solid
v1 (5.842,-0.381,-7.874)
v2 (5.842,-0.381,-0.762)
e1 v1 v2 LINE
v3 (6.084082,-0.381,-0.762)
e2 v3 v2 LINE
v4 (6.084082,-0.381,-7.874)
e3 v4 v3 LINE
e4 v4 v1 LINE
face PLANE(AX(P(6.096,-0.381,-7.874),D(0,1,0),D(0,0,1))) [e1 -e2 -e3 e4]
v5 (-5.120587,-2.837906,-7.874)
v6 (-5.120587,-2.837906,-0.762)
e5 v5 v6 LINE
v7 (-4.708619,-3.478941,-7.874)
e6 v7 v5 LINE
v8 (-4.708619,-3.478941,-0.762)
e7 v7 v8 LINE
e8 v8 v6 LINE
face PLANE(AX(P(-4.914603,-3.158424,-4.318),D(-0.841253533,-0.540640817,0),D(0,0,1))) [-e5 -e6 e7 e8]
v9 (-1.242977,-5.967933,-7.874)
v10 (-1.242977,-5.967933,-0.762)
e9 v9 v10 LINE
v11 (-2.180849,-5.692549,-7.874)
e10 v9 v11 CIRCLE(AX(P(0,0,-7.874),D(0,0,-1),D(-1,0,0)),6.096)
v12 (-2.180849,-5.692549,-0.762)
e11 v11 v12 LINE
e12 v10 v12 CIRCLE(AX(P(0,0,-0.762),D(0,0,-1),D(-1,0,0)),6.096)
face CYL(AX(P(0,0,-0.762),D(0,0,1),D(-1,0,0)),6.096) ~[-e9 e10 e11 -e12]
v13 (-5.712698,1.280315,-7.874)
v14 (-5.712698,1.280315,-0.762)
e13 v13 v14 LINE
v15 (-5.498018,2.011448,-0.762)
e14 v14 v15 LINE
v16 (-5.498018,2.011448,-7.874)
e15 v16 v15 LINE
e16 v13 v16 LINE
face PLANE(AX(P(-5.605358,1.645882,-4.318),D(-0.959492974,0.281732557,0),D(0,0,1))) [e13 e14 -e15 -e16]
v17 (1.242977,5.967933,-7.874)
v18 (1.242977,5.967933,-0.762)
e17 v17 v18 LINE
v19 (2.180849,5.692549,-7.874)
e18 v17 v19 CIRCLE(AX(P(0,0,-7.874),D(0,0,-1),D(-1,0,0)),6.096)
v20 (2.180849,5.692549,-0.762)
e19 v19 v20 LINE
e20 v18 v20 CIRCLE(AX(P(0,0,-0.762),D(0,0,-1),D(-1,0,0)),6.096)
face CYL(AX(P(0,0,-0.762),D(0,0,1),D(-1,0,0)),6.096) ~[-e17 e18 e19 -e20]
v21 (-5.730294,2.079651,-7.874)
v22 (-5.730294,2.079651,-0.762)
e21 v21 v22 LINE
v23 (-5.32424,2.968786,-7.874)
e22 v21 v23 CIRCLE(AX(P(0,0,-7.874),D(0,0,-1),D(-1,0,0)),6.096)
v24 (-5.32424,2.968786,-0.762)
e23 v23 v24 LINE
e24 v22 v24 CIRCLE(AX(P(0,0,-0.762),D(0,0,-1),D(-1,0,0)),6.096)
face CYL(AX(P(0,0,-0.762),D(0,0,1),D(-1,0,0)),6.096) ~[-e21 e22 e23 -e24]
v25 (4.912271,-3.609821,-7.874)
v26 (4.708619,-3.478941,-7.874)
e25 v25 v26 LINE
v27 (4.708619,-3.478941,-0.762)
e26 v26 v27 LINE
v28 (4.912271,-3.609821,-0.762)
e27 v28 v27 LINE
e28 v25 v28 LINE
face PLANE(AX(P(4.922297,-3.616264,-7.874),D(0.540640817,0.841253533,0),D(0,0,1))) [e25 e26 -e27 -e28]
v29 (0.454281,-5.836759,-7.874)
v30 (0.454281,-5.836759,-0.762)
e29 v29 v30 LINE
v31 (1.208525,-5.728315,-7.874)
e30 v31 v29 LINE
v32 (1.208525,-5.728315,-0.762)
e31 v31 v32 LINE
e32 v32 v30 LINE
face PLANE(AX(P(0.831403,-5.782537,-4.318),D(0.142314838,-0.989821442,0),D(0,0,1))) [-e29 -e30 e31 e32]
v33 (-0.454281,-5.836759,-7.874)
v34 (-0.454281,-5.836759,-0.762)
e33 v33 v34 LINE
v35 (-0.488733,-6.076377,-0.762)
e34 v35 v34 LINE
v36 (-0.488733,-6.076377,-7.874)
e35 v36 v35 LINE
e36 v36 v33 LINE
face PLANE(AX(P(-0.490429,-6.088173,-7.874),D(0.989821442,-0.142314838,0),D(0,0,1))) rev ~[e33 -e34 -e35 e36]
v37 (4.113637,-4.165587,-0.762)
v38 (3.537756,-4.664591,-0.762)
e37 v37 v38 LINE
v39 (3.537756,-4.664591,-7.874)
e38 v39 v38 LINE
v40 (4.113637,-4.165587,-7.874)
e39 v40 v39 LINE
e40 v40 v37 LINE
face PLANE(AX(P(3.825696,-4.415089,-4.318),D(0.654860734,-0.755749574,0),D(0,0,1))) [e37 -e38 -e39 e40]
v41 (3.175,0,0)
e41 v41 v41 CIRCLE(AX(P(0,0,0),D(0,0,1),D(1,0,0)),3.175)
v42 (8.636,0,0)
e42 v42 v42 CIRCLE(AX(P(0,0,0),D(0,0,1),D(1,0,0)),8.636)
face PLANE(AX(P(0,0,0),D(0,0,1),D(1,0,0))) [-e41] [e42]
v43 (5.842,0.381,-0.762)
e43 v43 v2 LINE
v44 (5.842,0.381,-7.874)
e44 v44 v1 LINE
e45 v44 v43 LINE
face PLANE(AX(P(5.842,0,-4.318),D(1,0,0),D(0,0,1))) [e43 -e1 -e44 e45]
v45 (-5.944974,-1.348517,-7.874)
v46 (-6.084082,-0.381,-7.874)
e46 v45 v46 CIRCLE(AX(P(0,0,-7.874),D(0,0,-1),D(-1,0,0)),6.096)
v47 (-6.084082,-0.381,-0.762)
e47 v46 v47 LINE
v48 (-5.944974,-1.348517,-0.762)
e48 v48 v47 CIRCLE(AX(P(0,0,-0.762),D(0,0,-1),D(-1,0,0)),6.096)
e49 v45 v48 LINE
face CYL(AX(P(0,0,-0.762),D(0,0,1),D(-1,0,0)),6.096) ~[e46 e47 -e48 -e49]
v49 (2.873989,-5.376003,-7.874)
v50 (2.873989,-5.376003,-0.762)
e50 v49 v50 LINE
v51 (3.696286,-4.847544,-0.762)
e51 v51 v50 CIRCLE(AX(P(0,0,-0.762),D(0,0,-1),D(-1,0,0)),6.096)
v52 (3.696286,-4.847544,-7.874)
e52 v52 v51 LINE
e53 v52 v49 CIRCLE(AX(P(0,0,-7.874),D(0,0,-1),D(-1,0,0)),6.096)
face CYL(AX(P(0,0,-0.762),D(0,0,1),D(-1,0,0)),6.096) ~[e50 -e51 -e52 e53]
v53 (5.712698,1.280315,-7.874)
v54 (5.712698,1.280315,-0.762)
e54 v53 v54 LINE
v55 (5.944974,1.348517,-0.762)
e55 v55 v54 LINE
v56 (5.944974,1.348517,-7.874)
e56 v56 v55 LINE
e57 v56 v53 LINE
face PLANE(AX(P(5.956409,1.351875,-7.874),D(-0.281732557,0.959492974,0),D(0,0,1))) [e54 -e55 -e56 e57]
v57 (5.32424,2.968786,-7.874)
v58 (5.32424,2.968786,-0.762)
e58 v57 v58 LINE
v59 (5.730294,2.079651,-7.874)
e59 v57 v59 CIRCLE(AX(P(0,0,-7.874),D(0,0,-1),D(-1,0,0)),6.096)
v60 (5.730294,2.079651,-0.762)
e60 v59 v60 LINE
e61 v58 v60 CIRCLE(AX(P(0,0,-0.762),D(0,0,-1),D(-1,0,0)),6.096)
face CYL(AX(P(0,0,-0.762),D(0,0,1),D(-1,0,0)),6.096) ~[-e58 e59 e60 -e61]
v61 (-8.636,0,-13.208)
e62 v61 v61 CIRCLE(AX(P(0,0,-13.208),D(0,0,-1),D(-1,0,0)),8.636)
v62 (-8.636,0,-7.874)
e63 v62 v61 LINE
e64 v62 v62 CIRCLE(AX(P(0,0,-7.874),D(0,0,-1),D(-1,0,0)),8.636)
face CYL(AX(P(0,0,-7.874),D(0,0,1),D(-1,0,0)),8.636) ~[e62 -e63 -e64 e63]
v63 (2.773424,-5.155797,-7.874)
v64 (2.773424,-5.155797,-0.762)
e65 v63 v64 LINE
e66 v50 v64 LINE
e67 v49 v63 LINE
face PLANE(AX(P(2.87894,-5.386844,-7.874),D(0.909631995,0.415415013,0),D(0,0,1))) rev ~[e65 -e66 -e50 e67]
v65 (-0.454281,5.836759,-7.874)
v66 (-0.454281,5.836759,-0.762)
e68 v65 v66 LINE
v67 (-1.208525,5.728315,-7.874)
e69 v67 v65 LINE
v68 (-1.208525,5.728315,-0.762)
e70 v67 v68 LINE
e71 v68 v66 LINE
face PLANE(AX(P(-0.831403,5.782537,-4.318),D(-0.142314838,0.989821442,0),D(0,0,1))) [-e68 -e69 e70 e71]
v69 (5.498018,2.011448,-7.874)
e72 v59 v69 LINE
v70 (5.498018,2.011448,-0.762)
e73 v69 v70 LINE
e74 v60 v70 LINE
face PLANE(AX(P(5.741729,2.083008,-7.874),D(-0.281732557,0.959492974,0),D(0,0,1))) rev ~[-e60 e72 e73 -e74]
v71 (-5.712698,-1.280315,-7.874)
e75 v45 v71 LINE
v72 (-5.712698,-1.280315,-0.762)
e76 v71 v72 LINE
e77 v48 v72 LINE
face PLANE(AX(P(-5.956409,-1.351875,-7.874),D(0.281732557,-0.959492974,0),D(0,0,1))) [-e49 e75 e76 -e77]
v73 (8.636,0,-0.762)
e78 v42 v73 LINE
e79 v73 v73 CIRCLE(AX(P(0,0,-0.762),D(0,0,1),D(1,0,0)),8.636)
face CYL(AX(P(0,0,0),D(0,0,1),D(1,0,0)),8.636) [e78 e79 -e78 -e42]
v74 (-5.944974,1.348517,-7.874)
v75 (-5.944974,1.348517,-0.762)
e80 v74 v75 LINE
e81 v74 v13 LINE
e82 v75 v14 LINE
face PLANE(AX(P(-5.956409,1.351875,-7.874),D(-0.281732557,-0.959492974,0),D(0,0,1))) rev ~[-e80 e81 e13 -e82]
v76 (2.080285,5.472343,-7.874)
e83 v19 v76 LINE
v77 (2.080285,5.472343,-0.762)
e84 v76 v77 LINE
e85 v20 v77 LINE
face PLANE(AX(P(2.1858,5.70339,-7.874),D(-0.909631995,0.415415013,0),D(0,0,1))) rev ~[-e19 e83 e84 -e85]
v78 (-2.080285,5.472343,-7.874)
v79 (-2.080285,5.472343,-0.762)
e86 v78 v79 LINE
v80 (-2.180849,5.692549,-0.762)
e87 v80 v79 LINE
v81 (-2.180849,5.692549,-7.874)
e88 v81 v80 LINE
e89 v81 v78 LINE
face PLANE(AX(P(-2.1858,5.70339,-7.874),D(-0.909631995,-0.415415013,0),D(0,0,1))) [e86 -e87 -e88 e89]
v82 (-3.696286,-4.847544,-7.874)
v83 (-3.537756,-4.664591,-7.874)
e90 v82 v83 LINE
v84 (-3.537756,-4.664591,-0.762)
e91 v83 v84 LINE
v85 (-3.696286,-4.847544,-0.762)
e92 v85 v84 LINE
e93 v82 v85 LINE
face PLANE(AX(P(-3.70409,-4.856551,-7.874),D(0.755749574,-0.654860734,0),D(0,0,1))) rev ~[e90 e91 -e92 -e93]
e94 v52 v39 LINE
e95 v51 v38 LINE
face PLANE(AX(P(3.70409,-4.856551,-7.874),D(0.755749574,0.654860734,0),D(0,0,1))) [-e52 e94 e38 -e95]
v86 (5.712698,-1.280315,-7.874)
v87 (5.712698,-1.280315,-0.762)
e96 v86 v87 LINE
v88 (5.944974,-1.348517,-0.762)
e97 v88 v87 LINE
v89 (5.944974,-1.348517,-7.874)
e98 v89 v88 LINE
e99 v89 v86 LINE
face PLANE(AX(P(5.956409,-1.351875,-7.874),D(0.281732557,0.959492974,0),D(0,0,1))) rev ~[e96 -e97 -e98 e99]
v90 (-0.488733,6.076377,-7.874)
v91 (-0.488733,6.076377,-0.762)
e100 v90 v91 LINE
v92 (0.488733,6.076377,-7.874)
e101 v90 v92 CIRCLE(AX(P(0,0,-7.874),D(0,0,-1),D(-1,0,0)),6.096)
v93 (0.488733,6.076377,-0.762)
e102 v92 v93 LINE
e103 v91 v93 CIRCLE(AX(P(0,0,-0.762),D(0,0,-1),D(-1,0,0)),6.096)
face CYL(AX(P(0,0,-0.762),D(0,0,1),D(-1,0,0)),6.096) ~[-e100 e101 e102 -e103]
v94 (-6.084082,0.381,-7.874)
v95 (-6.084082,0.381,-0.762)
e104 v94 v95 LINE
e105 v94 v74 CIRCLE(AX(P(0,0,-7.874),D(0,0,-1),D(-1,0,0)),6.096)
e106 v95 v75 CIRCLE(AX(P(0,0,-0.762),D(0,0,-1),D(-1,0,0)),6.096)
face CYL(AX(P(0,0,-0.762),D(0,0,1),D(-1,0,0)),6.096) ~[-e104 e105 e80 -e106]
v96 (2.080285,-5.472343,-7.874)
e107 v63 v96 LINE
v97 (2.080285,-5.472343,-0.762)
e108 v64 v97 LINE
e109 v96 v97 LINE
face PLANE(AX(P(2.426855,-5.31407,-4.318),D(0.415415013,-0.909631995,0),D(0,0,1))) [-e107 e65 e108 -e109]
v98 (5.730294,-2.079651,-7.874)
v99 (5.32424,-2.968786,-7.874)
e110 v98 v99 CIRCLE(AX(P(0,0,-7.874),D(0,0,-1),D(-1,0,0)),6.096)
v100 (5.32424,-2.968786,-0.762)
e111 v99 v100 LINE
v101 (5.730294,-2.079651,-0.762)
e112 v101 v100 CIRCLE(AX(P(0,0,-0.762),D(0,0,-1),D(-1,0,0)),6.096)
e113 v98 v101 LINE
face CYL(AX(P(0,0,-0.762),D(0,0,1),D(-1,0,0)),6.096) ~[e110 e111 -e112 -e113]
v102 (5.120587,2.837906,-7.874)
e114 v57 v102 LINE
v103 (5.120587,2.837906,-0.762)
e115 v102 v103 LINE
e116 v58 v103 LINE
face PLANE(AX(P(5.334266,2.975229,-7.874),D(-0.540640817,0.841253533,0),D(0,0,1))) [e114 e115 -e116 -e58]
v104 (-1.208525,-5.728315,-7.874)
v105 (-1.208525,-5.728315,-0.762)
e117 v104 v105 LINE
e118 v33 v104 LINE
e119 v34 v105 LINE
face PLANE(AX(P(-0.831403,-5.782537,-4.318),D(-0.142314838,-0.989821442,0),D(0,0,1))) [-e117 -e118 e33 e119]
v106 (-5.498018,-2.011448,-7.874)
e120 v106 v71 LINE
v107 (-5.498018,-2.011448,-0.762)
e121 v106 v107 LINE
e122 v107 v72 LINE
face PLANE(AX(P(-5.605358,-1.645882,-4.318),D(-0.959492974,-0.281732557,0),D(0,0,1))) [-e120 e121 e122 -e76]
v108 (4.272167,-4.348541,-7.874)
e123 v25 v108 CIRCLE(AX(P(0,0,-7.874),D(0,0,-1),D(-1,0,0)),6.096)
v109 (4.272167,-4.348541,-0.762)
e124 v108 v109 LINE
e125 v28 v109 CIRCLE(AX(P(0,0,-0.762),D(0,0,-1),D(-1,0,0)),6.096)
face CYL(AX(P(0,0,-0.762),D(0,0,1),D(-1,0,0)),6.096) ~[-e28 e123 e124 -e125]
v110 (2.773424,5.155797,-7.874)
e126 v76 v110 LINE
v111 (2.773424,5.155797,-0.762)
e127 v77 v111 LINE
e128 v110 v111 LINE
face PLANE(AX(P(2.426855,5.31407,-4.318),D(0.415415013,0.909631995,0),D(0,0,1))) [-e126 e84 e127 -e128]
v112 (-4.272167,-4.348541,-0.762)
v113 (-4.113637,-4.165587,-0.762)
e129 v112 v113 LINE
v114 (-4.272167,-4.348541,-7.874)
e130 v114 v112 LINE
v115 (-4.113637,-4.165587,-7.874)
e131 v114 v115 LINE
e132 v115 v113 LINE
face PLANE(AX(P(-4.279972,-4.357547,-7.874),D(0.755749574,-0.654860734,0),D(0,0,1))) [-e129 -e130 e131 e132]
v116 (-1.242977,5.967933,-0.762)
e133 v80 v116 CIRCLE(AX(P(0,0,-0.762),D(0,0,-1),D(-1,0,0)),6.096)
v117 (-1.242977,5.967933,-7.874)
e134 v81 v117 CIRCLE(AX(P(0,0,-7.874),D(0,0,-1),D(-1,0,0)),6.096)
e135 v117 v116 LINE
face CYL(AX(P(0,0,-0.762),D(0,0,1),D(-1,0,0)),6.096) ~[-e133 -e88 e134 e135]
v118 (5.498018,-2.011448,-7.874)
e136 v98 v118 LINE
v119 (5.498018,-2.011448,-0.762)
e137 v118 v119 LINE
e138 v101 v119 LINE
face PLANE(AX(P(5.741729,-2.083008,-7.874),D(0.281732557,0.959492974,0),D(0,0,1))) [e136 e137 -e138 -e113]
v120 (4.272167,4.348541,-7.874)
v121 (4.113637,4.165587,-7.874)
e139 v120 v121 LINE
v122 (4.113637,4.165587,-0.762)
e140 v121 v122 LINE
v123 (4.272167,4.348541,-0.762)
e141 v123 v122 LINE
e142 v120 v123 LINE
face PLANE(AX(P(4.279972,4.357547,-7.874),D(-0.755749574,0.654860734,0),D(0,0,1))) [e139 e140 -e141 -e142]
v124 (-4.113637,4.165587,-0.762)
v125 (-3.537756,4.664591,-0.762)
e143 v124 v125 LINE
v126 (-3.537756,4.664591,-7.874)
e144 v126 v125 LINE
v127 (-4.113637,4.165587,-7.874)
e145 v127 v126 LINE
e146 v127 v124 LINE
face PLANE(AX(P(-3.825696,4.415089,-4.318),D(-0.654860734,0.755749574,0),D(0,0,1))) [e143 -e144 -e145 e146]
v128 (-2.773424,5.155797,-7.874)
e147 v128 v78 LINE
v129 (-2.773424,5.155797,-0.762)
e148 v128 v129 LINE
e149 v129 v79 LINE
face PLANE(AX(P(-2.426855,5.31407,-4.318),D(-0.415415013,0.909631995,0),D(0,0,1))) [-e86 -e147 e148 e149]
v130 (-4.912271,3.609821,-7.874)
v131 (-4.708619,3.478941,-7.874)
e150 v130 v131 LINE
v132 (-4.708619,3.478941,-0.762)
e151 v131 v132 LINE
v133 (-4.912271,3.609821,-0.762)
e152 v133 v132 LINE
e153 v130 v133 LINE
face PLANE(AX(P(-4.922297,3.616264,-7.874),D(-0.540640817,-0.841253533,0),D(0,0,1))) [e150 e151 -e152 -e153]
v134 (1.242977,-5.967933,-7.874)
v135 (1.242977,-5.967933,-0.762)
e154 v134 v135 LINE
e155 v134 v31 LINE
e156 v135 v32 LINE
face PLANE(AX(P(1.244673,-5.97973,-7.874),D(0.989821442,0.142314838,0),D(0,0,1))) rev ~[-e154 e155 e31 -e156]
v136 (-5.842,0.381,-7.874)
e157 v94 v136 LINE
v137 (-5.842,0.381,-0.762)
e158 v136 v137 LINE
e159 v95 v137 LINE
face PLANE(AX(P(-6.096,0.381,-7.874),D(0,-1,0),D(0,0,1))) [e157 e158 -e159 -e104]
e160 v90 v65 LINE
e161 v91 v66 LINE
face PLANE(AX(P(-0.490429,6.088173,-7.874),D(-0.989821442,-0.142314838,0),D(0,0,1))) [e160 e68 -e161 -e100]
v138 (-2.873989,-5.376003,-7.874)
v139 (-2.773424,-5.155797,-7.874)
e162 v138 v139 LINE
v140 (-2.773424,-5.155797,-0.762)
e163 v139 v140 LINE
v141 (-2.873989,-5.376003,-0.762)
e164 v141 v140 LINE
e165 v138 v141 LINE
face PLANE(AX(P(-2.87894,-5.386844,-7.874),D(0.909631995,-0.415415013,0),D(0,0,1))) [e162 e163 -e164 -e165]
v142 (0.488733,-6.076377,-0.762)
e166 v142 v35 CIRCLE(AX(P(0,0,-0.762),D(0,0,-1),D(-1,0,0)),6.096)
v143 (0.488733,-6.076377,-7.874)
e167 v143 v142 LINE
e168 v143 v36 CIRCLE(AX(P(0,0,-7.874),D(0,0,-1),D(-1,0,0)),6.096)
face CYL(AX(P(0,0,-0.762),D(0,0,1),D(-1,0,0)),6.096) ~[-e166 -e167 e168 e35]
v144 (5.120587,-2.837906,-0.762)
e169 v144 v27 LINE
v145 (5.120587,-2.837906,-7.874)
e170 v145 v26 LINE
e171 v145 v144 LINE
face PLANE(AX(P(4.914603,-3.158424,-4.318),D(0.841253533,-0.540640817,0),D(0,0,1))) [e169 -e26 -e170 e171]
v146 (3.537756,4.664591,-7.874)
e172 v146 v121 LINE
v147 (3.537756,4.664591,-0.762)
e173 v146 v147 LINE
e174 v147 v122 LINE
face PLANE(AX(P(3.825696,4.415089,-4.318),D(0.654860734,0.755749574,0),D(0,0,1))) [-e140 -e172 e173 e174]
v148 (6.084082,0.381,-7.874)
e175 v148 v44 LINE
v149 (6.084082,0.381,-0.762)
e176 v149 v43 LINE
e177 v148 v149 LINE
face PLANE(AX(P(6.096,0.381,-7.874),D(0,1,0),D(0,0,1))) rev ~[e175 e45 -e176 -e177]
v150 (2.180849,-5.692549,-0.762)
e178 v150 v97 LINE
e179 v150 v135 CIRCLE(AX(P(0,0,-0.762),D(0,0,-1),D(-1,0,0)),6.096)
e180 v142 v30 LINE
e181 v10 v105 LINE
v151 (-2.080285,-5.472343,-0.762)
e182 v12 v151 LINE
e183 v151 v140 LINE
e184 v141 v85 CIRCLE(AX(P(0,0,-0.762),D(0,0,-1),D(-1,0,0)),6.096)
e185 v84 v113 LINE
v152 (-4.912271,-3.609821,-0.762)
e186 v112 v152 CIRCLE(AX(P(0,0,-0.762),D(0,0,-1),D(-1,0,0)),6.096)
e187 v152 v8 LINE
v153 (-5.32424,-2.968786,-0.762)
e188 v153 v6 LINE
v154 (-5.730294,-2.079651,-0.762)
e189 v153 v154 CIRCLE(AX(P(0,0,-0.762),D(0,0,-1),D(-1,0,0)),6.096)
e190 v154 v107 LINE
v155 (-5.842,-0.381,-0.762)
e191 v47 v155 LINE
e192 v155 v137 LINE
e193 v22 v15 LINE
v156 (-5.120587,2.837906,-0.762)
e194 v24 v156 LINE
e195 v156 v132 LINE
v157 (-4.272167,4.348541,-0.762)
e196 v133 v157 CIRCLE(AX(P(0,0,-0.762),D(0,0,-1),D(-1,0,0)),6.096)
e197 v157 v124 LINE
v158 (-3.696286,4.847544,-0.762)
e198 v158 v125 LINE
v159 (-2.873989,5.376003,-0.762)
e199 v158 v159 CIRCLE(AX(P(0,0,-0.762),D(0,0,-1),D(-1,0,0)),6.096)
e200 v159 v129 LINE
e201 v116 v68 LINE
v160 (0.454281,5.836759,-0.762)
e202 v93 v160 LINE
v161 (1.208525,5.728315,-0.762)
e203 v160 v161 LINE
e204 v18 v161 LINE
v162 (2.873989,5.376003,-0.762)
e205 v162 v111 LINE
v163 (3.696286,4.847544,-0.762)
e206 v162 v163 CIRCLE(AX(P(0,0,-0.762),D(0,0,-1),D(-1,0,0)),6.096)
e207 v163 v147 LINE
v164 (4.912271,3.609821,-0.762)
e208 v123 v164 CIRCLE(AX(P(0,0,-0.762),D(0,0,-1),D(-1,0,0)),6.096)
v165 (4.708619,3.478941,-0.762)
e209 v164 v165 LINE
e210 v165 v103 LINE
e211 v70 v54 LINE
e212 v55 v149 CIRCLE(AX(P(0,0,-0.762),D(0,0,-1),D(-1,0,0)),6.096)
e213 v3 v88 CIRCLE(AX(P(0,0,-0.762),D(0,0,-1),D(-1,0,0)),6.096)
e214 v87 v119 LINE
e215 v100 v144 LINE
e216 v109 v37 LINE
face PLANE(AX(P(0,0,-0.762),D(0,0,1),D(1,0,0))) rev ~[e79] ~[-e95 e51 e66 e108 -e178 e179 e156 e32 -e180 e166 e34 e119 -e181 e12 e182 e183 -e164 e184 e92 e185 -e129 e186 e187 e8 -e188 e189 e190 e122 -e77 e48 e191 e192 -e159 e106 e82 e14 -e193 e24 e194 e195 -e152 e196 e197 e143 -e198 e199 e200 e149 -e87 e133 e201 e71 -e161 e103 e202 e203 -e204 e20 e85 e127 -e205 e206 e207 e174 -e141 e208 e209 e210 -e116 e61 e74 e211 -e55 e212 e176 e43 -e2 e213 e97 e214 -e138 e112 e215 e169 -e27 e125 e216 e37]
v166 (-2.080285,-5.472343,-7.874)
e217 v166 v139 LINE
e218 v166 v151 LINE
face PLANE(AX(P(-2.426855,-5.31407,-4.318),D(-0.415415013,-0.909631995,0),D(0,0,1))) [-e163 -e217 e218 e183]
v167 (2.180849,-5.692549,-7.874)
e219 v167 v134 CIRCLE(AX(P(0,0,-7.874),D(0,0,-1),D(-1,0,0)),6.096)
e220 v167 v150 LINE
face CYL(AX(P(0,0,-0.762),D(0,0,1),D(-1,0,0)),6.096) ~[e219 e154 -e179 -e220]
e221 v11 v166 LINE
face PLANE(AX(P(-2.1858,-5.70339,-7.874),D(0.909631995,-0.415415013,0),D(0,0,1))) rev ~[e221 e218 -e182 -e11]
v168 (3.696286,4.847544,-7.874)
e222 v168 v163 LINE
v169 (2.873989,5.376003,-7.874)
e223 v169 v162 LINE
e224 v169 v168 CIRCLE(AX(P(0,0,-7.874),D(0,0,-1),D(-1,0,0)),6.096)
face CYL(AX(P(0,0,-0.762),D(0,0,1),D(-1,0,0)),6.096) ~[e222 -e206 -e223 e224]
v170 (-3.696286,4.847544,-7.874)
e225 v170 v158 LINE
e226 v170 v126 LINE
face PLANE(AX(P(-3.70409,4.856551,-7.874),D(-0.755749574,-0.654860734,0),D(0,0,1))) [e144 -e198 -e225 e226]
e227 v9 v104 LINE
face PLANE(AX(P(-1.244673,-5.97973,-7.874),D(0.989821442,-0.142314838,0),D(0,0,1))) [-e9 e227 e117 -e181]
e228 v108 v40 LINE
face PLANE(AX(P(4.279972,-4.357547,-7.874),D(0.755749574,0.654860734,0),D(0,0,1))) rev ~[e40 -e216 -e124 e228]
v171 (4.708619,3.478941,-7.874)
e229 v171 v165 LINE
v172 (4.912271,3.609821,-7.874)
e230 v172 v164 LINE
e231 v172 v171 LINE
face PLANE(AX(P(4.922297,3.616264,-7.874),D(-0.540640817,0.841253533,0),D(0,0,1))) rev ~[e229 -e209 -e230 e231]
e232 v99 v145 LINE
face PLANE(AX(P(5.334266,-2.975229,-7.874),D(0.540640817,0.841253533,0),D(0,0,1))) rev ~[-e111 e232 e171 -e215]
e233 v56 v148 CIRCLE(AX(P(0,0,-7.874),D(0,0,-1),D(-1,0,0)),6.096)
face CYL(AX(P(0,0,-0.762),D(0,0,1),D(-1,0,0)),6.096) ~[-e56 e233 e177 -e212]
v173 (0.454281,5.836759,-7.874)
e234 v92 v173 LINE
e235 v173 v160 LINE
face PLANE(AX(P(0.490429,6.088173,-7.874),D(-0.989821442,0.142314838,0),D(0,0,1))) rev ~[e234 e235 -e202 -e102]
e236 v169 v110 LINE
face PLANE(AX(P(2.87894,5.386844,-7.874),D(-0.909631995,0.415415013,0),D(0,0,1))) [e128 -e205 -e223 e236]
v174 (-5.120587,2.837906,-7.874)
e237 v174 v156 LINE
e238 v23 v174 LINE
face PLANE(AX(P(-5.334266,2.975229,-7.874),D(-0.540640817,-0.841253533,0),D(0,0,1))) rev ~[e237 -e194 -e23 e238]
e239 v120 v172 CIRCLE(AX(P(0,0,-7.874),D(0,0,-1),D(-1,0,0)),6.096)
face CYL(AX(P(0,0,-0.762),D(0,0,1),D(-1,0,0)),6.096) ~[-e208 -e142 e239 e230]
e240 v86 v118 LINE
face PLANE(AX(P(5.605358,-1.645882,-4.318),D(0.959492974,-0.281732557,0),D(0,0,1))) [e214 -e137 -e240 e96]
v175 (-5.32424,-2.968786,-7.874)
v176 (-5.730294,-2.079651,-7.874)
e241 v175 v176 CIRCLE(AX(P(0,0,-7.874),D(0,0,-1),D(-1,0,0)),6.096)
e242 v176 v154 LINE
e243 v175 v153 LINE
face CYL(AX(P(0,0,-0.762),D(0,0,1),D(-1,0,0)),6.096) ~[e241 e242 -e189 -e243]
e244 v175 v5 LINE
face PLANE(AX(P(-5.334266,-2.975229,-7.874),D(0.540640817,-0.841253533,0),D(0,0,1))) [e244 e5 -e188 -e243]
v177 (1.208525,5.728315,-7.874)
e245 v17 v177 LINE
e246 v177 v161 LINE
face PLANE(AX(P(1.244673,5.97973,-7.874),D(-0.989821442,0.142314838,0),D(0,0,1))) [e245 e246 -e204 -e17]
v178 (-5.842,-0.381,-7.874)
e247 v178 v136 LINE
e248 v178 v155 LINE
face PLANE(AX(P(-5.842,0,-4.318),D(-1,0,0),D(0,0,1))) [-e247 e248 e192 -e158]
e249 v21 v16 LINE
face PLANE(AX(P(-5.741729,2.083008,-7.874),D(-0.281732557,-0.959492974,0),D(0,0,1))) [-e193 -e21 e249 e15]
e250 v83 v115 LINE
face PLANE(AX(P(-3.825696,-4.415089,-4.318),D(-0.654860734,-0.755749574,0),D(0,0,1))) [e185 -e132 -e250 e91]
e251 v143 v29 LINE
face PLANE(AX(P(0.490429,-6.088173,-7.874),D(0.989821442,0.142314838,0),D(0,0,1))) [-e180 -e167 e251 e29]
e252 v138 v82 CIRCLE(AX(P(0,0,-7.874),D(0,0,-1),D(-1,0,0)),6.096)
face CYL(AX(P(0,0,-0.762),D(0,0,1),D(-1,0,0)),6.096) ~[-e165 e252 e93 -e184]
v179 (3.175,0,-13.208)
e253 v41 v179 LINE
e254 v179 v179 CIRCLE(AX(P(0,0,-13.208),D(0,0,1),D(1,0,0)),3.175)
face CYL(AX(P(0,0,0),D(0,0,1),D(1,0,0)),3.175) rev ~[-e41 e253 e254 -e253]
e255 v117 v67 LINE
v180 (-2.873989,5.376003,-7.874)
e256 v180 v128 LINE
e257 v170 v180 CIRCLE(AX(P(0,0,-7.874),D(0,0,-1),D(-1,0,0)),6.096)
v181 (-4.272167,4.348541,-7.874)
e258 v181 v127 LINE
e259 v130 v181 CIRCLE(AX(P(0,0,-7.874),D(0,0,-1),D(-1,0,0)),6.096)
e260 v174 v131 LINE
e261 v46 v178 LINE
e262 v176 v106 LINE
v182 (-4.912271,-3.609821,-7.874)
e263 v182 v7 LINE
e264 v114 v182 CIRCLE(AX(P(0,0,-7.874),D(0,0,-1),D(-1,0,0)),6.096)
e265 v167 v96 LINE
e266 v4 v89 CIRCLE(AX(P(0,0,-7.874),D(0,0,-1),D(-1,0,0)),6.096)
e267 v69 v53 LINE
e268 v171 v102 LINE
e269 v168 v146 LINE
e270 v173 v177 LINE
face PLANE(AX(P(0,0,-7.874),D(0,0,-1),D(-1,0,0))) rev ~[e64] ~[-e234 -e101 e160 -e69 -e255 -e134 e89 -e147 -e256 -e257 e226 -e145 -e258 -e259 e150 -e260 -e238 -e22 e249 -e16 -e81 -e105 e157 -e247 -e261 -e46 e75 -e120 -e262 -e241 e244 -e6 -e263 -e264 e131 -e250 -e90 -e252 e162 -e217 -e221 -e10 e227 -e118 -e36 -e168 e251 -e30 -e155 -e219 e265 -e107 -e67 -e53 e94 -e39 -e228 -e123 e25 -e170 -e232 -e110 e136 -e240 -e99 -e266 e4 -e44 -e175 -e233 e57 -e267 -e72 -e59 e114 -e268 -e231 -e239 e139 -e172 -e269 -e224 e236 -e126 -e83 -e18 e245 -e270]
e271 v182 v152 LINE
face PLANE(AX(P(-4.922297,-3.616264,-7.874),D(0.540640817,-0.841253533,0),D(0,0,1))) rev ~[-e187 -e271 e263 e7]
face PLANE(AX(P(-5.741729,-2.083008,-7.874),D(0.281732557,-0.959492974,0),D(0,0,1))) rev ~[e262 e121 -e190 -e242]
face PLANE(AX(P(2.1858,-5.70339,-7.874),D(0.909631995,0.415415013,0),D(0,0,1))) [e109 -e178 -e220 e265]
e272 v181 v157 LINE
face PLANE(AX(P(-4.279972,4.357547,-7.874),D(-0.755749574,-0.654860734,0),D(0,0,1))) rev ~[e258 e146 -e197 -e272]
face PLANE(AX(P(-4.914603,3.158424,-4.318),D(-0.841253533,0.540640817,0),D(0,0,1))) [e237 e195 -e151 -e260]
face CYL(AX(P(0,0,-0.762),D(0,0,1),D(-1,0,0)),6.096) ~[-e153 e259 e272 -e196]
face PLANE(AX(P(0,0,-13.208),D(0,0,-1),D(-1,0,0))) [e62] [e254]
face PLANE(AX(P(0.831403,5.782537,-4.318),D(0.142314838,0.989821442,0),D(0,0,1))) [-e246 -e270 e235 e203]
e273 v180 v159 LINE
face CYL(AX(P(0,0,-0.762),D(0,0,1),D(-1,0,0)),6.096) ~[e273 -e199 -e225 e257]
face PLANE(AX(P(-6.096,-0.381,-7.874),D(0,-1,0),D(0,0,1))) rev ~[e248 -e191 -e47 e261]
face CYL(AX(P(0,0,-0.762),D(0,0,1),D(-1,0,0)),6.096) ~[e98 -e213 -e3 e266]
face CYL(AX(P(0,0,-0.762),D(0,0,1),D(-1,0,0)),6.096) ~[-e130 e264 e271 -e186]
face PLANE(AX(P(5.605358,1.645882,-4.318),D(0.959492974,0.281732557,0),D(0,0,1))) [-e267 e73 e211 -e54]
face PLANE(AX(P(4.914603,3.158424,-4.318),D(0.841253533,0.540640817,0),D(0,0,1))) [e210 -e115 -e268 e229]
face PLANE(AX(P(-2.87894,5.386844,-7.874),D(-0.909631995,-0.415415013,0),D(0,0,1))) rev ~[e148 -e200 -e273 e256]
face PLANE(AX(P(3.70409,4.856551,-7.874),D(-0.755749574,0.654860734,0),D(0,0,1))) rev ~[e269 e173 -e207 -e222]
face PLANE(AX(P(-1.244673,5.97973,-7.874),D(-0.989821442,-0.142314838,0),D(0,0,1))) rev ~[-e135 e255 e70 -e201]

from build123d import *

# Parameters (mm, degrees)
SKETCH1_R           = 8.636
BOSS_EXTRUDE1_DEPTH = 0.762
SKETCH2_R           = 6.096
BOSS_EXTRUDE2_DEPTH = 7.112
SKETCH3_R           = 8.636
BOSS_EXTRUDE3_DEPTH = 5.334
SKETCH4_R           = 3.175
CUT_EXTRUDE1_DEPTH  = 25.654
SKETCH5_W           = 7.112
SKETCH5_H           = 0.762
CUT_EXTRUDE2_DEPTH  = 0.254
CIRPATTERN1_COUNT   = 22


with BuildPart() as part:
    # Sketch1 → Boss-Extrude1 (new body)
    with BuildSketch(Plane.XY):
        Circle(SKETCH1_R)
    extrude(amount=-BOSS_EXTRUDE1_DEPTH)

    # Sketch2 → Boss-Extrude2 (add)
    with BuildSketch(Plane(origin=(0, 0, -0.762), x_dir=(-1, 0, 0), z_dir=(0, 0, -1))):
        Circle(SKETCH2_R)
    extrude(amount=BOSS_EXTRUDE2_DEPTH)

    # Sketch3 → Boss-Extrude3 (add)
    with BuildSketch(Plane(origin=(0, 0, -7.874), x_dir=(-1, 0, 0), z_dir=(0, 0, -1))):
        Circle(SKETCH3_R)
    extrude(amount=BOSS_EXTRUDE3_DEPTH)

    # Sketch4 → Cut-Extrude1 (cut)
    with BuildSketch(Plane.XY):
        Circle(SKETCH4_R)
    extrude(amount=-CUT_EXTRUDE1_DEPTH, mode=Mode.SUBTRACT)

    # Sketch5 → Cut-Extrude2 (cut)
    with BuildSketch(Plane.ZY.offset(6.096)):
        with Locations((-4.318, 0)):
            Rectangle(SKETCH5_W, SKETCH5_H)
    cut_extrude2 = extrude(amount=-CUT_EXTRUDE2_DEPTH, mode=Mode.SUBTRACT)

    # CirPattern1: Cut-Extrude2 ×22 about axis
    cirpattern1_axis = Axis((0, 0, -13.208), (0, 0, 1))
    for i in range(1, CIRPATTERN1_COUNT):
        add(cut_extrude2.rotate(cirpattern1_axis, i * 360 / CIRPATTERN1_COUNT), mode=Mode.SUBTRACT)


solid = part.part
